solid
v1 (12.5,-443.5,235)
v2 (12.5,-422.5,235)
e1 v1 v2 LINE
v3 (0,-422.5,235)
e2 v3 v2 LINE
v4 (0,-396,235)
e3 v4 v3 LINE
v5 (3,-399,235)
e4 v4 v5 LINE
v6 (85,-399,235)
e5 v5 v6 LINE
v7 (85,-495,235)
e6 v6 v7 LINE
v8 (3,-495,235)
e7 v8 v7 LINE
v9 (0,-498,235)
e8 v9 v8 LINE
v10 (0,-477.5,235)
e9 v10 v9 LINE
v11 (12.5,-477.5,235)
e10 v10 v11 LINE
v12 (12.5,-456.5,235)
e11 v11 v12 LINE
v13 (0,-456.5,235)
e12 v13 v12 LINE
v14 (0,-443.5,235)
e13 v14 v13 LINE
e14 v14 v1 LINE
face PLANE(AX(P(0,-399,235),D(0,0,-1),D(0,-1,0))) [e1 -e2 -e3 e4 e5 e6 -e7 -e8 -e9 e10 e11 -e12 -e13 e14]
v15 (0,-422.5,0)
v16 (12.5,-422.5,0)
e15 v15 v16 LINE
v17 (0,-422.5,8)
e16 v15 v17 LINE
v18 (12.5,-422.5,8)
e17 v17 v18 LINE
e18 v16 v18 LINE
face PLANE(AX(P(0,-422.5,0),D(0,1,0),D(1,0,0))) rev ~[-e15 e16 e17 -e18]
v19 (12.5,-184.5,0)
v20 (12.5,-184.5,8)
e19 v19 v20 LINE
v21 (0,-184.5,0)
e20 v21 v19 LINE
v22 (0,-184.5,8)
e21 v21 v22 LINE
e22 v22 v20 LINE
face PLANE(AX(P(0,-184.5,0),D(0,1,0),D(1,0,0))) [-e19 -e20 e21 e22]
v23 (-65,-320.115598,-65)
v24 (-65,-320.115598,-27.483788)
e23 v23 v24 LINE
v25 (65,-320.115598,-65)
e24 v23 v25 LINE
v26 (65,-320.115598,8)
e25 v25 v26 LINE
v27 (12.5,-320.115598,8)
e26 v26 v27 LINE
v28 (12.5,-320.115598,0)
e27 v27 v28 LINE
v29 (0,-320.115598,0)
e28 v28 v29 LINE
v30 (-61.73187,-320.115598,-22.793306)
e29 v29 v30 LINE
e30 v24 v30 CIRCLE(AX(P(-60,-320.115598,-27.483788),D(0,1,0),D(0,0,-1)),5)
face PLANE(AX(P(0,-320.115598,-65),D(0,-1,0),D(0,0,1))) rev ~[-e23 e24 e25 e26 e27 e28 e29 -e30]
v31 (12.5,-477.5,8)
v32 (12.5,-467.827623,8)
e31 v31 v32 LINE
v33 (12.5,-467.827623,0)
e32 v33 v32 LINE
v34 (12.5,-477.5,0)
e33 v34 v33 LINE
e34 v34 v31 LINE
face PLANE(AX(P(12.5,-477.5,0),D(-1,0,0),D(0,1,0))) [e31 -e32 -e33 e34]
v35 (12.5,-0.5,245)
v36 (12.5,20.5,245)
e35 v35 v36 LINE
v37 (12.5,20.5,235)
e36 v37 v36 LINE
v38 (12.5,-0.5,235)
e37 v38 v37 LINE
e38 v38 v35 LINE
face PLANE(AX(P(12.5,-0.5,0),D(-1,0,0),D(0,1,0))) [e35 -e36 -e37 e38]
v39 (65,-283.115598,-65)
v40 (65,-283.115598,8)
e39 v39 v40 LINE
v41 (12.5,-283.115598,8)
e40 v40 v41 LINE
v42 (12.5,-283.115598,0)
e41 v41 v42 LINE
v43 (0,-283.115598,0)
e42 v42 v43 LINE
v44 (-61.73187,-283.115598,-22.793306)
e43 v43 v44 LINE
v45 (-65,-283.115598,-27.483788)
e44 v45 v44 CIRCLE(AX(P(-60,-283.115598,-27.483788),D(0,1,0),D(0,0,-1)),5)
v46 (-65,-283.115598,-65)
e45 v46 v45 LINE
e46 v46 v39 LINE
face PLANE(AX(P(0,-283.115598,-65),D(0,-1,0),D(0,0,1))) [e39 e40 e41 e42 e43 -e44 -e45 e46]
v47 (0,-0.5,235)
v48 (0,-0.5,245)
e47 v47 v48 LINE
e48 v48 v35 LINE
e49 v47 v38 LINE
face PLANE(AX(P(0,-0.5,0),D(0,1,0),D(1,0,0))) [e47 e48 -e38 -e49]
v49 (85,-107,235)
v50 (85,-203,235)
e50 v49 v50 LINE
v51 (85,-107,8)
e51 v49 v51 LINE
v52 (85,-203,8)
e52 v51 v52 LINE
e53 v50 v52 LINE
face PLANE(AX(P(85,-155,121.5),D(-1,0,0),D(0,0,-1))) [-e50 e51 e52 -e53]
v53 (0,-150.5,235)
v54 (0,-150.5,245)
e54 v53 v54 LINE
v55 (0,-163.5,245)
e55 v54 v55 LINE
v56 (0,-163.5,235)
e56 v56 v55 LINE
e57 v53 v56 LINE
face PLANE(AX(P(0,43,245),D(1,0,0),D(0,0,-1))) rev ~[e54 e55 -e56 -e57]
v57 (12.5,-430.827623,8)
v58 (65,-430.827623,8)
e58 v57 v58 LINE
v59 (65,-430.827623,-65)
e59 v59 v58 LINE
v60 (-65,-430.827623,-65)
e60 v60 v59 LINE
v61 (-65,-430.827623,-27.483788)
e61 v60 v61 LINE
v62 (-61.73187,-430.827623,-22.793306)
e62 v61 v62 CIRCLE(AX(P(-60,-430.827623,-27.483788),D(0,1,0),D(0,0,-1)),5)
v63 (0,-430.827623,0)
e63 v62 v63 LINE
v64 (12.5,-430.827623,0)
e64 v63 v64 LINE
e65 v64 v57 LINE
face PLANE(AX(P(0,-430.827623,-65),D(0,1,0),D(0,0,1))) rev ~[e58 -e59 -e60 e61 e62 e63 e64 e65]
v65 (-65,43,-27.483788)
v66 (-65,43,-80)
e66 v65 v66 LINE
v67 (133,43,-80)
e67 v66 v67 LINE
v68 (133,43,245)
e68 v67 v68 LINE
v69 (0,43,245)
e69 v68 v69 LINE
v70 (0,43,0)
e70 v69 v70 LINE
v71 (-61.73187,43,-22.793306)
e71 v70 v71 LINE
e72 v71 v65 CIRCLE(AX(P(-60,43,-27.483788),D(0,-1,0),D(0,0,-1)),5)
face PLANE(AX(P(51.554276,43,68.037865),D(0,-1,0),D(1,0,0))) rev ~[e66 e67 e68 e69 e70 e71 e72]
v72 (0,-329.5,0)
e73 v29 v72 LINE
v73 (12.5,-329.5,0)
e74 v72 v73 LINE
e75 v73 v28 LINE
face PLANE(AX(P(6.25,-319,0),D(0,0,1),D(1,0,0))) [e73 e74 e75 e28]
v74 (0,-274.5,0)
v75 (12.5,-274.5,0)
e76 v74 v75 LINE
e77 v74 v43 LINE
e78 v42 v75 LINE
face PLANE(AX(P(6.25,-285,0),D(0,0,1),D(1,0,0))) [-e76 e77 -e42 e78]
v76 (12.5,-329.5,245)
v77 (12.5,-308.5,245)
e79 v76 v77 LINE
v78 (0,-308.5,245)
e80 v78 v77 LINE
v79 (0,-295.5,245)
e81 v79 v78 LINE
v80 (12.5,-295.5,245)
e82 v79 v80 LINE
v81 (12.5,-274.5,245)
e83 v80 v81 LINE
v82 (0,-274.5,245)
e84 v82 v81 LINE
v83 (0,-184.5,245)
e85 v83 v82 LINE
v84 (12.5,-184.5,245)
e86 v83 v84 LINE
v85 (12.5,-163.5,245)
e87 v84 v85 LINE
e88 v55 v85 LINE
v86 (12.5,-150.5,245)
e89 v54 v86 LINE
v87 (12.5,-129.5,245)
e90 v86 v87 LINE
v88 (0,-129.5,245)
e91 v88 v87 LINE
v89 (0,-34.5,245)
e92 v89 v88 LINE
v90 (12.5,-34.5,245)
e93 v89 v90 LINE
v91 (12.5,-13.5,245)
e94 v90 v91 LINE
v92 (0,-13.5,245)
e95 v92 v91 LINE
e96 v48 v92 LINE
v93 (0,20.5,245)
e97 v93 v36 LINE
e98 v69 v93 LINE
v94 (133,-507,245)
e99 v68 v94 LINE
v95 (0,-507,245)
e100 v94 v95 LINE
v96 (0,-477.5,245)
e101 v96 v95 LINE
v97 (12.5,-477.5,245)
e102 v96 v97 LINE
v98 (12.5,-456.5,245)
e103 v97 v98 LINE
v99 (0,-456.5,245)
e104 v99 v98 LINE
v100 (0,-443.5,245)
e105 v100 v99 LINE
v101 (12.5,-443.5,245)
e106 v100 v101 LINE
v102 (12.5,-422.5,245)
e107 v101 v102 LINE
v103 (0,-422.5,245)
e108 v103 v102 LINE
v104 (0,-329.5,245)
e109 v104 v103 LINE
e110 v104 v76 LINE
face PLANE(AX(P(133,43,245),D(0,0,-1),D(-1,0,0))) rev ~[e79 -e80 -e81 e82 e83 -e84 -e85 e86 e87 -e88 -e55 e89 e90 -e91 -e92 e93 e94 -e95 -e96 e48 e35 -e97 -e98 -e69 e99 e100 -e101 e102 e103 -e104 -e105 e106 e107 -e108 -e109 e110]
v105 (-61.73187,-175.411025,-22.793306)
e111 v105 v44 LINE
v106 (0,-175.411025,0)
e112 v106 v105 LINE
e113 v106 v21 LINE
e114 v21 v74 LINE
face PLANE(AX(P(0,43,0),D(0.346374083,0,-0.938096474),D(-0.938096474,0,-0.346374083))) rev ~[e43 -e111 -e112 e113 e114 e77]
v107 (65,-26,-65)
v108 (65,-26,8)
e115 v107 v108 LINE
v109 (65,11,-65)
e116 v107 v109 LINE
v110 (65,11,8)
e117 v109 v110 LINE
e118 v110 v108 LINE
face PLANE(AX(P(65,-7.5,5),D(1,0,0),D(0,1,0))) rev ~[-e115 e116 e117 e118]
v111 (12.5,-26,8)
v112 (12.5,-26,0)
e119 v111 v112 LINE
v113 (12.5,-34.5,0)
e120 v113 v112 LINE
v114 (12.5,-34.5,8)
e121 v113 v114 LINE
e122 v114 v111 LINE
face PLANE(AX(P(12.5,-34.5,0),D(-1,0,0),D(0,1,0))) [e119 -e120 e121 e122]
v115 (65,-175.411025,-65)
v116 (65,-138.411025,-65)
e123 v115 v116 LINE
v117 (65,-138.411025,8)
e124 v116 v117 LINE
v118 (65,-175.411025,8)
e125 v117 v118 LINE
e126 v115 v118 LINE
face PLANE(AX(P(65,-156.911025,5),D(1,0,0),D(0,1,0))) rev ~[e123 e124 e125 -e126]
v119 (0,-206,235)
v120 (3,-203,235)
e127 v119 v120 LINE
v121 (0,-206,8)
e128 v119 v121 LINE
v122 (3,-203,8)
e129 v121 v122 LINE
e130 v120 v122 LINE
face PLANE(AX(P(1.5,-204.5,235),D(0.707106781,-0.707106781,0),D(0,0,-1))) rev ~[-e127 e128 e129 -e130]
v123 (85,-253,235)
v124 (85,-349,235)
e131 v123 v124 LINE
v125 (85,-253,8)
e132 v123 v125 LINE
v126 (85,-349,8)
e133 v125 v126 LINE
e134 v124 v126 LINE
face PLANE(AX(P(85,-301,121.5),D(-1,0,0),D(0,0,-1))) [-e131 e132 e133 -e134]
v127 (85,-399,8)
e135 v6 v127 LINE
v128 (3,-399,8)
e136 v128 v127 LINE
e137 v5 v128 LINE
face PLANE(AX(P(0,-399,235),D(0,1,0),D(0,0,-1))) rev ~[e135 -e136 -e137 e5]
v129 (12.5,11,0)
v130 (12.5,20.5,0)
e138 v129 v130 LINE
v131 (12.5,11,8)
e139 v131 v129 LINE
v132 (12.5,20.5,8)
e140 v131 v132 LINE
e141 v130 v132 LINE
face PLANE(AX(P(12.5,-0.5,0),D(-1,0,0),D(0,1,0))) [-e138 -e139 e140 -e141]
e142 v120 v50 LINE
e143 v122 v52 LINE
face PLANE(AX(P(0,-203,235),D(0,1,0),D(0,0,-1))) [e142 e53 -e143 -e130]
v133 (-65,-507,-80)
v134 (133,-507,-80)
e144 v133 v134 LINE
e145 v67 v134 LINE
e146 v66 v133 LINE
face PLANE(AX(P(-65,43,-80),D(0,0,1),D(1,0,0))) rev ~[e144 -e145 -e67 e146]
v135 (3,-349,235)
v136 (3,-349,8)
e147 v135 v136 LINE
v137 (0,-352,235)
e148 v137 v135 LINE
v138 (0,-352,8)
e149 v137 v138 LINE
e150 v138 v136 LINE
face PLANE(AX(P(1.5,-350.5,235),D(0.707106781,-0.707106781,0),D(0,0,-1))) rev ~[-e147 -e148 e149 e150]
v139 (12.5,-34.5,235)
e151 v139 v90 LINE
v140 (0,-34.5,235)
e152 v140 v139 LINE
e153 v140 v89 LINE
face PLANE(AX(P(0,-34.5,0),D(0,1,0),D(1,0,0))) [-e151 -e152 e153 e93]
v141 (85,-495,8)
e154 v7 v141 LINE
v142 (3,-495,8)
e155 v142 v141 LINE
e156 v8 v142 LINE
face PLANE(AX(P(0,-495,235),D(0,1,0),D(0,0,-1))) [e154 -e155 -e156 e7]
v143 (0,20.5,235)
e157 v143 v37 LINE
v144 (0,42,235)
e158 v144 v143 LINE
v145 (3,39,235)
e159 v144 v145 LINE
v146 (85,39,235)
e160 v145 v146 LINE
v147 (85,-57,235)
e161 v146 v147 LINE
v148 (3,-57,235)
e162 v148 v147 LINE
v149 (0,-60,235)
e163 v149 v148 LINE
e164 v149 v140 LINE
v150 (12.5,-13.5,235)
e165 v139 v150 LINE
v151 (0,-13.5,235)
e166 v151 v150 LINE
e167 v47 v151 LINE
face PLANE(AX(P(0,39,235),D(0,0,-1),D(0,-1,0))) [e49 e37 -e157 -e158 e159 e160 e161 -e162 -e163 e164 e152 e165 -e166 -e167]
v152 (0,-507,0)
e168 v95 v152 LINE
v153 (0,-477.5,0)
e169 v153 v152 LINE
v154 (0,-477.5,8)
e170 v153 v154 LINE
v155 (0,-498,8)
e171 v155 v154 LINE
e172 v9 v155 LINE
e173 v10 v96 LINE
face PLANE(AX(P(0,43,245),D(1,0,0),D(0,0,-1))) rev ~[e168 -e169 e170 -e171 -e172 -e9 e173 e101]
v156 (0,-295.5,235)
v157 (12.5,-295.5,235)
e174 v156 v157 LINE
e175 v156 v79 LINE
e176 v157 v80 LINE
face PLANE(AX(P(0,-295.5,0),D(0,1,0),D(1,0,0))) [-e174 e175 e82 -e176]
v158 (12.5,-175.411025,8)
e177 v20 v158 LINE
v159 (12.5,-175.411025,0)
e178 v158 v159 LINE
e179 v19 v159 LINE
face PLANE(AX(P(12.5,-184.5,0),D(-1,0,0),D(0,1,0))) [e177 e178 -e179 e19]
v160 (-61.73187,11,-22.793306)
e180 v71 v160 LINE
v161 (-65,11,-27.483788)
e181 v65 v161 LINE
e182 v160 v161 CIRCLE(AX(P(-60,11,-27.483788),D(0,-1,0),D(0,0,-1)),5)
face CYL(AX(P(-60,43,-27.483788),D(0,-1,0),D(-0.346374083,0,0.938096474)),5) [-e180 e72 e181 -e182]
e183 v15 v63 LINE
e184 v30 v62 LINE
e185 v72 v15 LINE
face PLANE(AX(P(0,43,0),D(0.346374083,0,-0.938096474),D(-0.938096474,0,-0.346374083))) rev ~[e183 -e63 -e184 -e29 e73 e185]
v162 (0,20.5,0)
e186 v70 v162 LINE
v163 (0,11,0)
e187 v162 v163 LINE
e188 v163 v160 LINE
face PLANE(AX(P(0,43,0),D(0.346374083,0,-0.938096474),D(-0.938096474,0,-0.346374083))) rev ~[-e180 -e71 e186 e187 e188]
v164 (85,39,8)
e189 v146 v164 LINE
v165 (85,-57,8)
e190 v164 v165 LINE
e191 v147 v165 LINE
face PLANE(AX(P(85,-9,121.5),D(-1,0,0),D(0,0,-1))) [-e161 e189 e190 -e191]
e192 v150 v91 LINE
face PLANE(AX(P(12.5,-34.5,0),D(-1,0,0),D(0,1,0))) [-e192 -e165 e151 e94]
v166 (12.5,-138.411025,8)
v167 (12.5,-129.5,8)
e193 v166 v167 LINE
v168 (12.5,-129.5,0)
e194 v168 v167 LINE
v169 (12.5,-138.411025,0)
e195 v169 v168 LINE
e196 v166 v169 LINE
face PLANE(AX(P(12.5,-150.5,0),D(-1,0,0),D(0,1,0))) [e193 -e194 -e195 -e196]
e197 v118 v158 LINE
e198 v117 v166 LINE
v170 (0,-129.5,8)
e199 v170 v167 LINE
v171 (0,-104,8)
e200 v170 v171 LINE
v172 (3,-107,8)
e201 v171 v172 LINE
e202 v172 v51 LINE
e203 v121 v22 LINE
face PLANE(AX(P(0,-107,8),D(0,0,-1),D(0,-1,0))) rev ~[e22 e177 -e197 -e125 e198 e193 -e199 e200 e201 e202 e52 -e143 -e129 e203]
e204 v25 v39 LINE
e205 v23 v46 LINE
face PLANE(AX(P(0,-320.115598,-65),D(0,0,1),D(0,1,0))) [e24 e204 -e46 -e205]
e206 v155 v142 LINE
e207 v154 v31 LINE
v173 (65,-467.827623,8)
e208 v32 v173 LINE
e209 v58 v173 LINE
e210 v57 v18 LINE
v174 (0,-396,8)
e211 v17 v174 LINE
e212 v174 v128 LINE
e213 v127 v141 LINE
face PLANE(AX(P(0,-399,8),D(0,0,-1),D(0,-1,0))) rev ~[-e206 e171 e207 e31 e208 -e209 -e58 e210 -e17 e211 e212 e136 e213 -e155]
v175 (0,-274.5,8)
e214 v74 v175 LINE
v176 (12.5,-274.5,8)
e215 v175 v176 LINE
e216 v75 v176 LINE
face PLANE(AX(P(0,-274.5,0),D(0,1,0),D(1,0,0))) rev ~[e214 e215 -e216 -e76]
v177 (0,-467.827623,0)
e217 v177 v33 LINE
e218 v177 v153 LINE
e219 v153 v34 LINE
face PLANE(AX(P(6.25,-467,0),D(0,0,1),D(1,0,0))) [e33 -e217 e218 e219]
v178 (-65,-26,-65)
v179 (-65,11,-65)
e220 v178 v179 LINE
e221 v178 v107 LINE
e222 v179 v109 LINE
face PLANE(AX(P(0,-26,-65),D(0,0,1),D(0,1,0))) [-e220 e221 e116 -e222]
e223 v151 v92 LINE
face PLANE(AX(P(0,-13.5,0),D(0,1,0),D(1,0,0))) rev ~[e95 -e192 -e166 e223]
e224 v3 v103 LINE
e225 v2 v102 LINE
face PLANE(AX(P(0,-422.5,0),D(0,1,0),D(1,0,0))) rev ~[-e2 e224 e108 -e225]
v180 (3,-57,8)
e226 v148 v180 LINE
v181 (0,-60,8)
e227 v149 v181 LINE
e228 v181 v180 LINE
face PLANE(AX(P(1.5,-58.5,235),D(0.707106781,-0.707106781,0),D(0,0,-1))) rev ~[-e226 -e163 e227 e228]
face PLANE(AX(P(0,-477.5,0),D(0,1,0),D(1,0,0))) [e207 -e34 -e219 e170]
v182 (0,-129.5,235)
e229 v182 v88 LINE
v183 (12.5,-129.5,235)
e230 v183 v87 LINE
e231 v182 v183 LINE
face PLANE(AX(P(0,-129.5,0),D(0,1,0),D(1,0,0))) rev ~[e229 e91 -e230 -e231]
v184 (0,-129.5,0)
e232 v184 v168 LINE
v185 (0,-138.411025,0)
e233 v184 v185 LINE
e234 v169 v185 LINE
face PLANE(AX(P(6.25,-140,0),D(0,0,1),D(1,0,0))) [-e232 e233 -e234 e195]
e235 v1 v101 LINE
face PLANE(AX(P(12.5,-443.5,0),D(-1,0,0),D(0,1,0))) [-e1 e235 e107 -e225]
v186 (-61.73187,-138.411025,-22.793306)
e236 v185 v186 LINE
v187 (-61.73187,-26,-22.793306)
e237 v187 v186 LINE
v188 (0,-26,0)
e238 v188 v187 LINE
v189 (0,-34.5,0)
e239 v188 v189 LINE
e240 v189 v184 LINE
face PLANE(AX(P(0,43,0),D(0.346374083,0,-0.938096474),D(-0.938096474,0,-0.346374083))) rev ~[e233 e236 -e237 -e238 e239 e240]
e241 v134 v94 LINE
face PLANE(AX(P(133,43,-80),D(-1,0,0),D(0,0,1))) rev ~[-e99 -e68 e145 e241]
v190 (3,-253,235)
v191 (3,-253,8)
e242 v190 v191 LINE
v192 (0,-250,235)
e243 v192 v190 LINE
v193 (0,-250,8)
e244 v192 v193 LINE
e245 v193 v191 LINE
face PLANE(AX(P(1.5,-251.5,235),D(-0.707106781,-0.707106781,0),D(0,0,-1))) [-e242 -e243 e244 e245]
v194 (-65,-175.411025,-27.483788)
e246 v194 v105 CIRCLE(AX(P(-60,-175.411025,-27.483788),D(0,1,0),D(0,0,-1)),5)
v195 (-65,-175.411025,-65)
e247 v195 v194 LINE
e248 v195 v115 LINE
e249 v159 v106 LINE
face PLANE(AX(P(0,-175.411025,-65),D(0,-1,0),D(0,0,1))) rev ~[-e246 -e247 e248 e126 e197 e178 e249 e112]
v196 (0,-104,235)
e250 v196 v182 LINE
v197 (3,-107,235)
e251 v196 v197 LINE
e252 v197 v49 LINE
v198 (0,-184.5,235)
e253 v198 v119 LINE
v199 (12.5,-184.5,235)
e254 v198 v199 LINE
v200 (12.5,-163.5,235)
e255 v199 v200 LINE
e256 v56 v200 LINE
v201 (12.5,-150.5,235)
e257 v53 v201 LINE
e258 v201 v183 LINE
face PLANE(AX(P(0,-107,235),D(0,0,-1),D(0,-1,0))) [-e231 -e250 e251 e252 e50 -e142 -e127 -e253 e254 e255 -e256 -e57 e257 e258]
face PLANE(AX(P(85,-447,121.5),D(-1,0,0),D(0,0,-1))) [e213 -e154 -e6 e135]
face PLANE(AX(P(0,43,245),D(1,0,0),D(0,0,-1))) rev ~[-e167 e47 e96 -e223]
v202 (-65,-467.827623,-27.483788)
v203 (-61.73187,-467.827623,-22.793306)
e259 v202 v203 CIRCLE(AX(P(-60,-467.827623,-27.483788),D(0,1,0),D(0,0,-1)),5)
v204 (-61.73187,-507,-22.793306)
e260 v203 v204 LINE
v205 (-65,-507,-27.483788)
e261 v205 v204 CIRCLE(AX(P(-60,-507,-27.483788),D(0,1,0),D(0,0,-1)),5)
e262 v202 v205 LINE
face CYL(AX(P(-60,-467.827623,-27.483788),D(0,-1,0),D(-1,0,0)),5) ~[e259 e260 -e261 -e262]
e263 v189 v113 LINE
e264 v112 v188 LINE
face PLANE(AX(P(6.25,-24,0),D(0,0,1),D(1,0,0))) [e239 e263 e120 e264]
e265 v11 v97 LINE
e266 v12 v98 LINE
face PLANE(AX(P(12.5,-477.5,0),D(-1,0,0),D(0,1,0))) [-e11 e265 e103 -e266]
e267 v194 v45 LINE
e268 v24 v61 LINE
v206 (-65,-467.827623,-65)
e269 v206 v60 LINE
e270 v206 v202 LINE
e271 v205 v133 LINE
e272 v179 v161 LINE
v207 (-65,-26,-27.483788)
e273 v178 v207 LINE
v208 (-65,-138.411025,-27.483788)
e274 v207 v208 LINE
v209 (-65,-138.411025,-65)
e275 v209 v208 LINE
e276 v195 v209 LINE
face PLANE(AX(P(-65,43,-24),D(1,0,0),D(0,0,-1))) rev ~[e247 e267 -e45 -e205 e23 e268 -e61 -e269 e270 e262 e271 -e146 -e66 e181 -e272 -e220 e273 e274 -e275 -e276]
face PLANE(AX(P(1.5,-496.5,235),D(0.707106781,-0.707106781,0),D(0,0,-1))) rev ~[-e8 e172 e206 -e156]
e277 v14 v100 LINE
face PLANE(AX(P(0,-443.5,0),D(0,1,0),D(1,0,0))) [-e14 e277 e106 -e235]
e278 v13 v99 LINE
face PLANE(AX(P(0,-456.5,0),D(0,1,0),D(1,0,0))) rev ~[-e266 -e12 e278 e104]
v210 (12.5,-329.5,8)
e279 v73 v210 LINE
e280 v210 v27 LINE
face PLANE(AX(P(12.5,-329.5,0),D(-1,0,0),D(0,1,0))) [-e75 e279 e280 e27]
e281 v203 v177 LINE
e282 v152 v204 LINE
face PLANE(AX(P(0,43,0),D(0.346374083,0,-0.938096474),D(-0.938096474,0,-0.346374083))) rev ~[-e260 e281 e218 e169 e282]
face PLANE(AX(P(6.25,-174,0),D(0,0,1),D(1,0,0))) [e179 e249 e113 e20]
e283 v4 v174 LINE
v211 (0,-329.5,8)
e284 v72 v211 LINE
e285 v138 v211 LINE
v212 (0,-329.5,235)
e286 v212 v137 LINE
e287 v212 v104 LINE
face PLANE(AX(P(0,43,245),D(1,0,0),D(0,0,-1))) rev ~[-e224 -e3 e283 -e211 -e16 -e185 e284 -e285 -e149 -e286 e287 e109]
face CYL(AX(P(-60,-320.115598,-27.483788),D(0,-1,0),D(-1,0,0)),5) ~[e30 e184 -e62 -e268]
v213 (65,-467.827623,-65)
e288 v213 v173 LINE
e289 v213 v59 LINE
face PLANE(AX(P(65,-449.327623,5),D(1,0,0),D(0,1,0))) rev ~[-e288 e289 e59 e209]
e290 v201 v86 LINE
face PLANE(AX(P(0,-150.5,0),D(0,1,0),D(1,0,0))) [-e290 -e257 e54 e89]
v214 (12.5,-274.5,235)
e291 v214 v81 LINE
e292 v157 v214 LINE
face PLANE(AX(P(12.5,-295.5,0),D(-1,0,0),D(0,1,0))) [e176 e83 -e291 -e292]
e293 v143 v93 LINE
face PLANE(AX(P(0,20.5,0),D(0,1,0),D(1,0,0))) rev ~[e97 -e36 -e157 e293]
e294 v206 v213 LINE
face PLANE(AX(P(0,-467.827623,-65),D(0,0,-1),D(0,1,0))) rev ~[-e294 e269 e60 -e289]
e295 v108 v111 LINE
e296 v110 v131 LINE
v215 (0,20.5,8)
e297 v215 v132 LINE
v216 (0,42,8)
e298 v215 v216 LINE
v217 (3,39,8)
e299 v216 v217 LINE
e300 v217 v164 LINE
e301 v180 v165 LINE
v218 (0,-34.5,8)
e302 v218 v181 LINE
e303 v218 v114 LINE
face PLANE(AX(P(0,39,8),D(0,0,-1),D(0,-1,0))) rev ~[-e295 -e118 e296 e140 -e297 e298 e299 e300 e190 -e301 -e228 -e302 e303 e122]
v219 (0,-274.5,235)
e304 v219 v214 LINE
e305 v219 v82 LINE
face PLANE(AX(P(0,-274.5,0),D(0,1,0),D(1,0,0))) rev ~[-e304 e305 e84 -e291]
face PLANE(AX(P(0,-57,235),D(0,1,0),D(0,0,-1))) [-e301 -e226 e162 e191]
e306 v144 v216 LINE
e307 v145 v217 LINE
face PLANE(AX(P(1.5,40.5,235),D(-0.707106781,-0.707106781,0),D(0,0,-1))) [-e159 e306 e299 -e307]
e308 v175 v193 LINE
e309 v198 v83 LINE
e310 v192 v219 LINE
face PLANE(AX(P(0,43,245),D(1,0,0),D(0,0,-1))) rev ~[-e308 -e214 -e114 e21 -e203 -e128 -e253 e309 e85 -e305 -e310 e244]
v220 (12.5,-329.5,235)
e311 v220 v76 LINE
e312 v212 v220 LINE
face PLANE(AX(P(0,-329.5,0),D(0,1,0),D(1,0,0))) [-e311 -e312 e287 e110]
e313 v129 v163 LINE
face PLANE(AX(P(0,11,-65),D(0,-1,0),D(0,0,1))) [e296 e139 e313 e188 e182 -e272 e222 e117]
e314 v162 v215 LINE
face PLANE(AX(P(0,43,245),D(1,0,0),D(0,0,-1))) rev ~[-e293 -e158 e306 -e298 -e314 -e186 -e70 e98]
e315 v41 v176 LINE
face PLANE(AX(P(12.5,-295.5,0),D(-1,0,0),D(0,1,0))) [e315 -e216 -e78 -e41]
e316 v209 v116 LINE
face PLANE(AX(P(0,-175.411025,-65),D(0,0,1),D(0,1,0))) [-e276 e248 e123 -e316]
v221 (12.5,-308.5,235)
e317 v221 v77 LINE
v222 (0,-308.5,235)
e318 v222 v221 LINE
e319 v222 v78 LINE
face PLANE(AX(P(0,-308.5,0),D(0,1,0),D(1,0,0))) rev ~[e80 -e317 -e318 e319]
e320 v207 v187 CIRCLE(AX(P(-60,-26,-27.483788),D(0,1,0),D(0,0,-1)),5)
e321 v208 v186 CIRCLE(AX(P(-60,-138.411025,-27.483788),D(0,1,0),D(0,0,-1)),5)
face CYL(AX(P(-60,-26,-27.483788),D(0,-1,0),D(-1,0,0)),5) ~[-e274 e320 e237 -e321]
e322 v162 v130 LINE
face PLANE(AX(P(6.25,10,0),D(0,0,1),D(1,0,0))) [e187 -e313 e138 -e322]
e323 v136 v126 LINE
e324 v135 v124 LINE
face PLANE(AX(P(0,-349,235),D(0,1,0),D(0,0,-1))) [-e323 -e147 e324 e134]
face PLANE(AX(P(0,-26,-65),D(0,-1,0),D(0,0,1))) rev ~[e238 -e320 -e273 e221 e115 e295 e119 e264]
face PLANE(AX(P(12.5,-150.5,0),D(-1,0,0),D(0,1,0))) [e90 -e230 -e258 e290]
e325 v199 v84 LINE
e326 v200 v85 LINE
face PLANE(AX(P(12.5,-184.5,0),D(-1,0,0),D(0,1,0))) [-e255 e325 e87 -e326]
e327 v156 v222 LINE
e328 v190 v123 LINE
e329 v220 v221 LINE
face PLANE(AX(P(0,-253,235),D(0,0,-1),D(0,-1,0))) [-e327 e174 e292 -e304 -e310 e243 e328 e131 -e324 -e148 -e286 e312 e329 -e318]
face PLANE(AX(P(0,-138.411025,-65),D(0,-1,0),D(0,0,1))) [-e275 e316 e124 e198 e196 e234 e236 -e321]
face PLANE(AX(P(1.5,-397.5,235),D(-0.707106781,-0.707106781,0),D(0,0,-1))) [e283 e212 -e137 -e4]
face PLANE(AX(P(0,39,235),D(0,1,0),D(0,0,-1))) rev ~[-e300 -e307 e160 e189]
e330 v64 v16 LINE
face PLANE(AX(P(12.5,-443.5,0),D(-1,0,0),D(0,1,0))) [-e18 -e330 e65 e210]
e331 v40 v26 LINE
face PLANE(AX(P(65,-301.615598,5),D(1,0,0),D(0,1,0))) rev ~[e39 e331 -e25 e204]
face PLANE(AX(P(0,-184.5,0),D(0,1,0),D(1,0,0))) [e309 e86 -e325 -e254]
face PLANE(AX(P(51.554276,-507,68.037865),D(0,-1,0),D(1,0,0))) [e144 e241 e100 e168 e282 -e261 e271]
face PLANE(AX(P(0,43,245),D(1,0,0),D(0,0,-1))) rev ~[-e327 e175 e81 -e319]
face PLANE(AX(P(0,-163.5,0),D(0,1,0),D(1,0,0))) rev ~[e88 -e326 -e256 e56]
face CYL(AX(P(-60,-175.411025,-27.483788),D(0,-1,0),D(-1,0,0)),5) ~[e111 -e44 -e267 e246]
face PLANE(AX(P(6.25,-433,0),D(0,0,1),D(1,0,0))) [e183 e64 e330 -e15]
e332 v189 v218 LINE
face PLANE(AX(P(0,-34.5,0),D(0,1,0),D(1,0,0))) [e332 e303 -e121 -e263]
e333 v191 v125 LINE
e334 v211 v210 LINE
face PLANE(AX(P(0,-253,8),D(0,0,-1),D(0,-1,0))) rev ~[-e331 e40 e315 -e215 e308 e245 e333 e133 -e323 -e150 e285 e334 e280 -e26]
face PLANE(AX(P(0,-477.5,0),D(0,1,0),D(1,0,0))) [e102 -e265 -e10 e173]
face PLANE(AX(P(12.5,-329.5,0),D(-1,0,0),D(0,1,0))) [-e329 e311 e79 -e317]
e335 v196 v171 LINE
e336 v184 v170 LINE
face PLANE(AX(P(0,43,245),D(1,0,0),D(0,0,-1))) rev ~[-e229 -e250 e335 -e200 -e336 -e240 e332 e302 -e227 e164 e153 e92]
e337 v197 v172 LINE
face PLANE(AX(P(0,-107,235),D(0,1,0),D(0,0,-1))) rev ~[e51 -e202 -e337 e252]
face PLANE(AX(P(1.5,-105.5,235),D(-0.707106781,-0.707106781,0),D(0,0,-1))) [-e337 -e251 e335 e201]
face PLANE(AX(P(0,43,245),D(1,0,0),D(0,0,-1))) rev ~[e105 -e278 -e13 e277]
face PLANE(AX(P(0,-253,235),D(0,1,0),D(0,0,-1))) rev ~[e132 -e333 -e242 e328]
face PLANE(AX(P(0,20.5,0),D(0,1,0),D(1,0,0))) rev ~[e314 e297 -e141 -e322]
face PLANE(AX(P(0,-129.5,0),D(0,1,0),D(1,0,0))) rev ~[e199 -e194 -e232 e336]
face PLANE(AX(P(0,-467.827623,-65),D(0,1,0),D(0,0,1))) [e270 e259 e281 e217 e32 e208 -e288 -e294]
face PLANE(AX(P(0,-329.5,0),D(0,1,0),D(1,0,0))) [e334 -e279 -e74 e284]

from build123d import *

# Parameters (mm, degrees)
PAD006_DEPTH    = 550
SKETCH015_W     = 227
SKETCH015_H     = 96
POCKET008_DEPTH = 85
SKETCH016_W     = 37
SKETCH016_H     = 140
POCKET009_DEPTH = 65
SKETCH019_W     = 12.5
SKETCH019_H     = 21
POCKET014_DEPTH = 245.001
FILLET_R        = 5
CHAMFER_SIZE    = 3


with BuildPart() as part:
    # Sketch014 → Pad006 (new body)
    with BuildSketch(Plane.XZ):
        Polygon((0, 245), (0, 0), (-65, -24), (-65, -80), (133, -80), (133, 245), align=None)
    extrude(amount=PAD006_DEPTH)

    # Sketch015 (on Face1 of Pad006) → Pocket008 (cut)
    with BuildSketch(Plane(origin=(0, 0, 0), x_dir=(0, 0, -1), z_dir=(-1, 0, 0))):
        with Locations((-121.5, 52)):
            Rectangle(SKETCH015_W, SKETCH015_H)
        with Locations((-121.5, 198)):
            Rectangle(SKETCH015_W, SKETCH015_H)
        with Locations((-121.5, 344)):
            Rectangle(SKETCH015_W, SKETCH015_H)
        with Locations((-121.5, 490)):
            Rectangle(SKETCH015_W, SKETCH015_H)
    extrude(amount=-POCKET008_DEPTH, mode=Mode.SUBTRACT)

    # Sketch016 → Pocket009 (cut, symmetric)
    with BuildSketch(Plane.YZ):
        with Locations((-50.5, 5)):
            Rectangle(SKETCH016_W, SKETCH016_H)
        with Locations((-199.911025, 5)):
            Rectangle(SKETCH016_W, SKETCH016_H)
        with Locations((-344.615598, 5)):
            Rectangle(SKETCH016_W, SKETCH016_H)
        with Locations((-492.327623, 5)):
            Rectangle(SKETCH016_W, SKETCH016_H)
    extrude(amount=POCKET009_DEPTH, both=True, mode=Mode.SUBTRACT)

    # Sketch019 → Pocket014 (cut, through all)
    with BuildSketch(Plane.XY):
        with Locations((6.25, -33)):
            Rectangle(SKETCH019_W, SKETCH019_H)
        with Locations((6.25, -67)):
            Rectangle(SKETCH019_W, SKETCH019_H)
        with Locations((6.25, -183)):
            Rectangle(SKETCH019_W, SKETCH019_H)
        with Locations((6.25, -217)):
            Rectangle(SKETCH019_W, SKETCH019_H)
        with Locations((6.25, -328)):
            Rectangle(SKETCH019_W, SKETCH019_H)
        with Locations((6.25, -362)):
            Rectangle(SKETCH019_W, SKETCH019_H)
        with Locations((6.25, -476)):
            Rectangle(SKETCH019_W, SKETCH019_H)
        with Locations((6.25, -510)):
            Rectangle(SKETCH019_W, SKETCH019_H)
    extrude(amount=POCKET014_DEPTH, mode=Mode.SUBTRACT)

    # Fillet
    fillet_edges = [part.edges().sort_by_distance(p)[0] for p in [
        (-65, -16, -24),
        (-65, -125.205513, -24),
        (-65, -272.263312, -24),
        (-65, -418.47161, -24),
        (-65, -530.413811, -24),
    ]]
    fillet(fillet_edges, radius=FILLET_R)

    # Chamfer
    chamfer_edges = [part.edges().sort_by_distance(p)[0] for p in [
        (0, -100, 121.5),
        (0, -150, 121.5),
        (0, -246, 121.5),
        (0, -296, 121.5),
        (0, -392, 121.5),
        (0, -442, 121.5),
        (0, -538, 121.5),
        (0, -4, 121.5),
    ]]
    chamfer(chamfer_edges, length=CHAMFER_SIZE)


with BuildPart() as part_1:
    # Body004 placement: moved
    add(part.part.moved(Location((0, 43, 0))))


solid = part_1.part
